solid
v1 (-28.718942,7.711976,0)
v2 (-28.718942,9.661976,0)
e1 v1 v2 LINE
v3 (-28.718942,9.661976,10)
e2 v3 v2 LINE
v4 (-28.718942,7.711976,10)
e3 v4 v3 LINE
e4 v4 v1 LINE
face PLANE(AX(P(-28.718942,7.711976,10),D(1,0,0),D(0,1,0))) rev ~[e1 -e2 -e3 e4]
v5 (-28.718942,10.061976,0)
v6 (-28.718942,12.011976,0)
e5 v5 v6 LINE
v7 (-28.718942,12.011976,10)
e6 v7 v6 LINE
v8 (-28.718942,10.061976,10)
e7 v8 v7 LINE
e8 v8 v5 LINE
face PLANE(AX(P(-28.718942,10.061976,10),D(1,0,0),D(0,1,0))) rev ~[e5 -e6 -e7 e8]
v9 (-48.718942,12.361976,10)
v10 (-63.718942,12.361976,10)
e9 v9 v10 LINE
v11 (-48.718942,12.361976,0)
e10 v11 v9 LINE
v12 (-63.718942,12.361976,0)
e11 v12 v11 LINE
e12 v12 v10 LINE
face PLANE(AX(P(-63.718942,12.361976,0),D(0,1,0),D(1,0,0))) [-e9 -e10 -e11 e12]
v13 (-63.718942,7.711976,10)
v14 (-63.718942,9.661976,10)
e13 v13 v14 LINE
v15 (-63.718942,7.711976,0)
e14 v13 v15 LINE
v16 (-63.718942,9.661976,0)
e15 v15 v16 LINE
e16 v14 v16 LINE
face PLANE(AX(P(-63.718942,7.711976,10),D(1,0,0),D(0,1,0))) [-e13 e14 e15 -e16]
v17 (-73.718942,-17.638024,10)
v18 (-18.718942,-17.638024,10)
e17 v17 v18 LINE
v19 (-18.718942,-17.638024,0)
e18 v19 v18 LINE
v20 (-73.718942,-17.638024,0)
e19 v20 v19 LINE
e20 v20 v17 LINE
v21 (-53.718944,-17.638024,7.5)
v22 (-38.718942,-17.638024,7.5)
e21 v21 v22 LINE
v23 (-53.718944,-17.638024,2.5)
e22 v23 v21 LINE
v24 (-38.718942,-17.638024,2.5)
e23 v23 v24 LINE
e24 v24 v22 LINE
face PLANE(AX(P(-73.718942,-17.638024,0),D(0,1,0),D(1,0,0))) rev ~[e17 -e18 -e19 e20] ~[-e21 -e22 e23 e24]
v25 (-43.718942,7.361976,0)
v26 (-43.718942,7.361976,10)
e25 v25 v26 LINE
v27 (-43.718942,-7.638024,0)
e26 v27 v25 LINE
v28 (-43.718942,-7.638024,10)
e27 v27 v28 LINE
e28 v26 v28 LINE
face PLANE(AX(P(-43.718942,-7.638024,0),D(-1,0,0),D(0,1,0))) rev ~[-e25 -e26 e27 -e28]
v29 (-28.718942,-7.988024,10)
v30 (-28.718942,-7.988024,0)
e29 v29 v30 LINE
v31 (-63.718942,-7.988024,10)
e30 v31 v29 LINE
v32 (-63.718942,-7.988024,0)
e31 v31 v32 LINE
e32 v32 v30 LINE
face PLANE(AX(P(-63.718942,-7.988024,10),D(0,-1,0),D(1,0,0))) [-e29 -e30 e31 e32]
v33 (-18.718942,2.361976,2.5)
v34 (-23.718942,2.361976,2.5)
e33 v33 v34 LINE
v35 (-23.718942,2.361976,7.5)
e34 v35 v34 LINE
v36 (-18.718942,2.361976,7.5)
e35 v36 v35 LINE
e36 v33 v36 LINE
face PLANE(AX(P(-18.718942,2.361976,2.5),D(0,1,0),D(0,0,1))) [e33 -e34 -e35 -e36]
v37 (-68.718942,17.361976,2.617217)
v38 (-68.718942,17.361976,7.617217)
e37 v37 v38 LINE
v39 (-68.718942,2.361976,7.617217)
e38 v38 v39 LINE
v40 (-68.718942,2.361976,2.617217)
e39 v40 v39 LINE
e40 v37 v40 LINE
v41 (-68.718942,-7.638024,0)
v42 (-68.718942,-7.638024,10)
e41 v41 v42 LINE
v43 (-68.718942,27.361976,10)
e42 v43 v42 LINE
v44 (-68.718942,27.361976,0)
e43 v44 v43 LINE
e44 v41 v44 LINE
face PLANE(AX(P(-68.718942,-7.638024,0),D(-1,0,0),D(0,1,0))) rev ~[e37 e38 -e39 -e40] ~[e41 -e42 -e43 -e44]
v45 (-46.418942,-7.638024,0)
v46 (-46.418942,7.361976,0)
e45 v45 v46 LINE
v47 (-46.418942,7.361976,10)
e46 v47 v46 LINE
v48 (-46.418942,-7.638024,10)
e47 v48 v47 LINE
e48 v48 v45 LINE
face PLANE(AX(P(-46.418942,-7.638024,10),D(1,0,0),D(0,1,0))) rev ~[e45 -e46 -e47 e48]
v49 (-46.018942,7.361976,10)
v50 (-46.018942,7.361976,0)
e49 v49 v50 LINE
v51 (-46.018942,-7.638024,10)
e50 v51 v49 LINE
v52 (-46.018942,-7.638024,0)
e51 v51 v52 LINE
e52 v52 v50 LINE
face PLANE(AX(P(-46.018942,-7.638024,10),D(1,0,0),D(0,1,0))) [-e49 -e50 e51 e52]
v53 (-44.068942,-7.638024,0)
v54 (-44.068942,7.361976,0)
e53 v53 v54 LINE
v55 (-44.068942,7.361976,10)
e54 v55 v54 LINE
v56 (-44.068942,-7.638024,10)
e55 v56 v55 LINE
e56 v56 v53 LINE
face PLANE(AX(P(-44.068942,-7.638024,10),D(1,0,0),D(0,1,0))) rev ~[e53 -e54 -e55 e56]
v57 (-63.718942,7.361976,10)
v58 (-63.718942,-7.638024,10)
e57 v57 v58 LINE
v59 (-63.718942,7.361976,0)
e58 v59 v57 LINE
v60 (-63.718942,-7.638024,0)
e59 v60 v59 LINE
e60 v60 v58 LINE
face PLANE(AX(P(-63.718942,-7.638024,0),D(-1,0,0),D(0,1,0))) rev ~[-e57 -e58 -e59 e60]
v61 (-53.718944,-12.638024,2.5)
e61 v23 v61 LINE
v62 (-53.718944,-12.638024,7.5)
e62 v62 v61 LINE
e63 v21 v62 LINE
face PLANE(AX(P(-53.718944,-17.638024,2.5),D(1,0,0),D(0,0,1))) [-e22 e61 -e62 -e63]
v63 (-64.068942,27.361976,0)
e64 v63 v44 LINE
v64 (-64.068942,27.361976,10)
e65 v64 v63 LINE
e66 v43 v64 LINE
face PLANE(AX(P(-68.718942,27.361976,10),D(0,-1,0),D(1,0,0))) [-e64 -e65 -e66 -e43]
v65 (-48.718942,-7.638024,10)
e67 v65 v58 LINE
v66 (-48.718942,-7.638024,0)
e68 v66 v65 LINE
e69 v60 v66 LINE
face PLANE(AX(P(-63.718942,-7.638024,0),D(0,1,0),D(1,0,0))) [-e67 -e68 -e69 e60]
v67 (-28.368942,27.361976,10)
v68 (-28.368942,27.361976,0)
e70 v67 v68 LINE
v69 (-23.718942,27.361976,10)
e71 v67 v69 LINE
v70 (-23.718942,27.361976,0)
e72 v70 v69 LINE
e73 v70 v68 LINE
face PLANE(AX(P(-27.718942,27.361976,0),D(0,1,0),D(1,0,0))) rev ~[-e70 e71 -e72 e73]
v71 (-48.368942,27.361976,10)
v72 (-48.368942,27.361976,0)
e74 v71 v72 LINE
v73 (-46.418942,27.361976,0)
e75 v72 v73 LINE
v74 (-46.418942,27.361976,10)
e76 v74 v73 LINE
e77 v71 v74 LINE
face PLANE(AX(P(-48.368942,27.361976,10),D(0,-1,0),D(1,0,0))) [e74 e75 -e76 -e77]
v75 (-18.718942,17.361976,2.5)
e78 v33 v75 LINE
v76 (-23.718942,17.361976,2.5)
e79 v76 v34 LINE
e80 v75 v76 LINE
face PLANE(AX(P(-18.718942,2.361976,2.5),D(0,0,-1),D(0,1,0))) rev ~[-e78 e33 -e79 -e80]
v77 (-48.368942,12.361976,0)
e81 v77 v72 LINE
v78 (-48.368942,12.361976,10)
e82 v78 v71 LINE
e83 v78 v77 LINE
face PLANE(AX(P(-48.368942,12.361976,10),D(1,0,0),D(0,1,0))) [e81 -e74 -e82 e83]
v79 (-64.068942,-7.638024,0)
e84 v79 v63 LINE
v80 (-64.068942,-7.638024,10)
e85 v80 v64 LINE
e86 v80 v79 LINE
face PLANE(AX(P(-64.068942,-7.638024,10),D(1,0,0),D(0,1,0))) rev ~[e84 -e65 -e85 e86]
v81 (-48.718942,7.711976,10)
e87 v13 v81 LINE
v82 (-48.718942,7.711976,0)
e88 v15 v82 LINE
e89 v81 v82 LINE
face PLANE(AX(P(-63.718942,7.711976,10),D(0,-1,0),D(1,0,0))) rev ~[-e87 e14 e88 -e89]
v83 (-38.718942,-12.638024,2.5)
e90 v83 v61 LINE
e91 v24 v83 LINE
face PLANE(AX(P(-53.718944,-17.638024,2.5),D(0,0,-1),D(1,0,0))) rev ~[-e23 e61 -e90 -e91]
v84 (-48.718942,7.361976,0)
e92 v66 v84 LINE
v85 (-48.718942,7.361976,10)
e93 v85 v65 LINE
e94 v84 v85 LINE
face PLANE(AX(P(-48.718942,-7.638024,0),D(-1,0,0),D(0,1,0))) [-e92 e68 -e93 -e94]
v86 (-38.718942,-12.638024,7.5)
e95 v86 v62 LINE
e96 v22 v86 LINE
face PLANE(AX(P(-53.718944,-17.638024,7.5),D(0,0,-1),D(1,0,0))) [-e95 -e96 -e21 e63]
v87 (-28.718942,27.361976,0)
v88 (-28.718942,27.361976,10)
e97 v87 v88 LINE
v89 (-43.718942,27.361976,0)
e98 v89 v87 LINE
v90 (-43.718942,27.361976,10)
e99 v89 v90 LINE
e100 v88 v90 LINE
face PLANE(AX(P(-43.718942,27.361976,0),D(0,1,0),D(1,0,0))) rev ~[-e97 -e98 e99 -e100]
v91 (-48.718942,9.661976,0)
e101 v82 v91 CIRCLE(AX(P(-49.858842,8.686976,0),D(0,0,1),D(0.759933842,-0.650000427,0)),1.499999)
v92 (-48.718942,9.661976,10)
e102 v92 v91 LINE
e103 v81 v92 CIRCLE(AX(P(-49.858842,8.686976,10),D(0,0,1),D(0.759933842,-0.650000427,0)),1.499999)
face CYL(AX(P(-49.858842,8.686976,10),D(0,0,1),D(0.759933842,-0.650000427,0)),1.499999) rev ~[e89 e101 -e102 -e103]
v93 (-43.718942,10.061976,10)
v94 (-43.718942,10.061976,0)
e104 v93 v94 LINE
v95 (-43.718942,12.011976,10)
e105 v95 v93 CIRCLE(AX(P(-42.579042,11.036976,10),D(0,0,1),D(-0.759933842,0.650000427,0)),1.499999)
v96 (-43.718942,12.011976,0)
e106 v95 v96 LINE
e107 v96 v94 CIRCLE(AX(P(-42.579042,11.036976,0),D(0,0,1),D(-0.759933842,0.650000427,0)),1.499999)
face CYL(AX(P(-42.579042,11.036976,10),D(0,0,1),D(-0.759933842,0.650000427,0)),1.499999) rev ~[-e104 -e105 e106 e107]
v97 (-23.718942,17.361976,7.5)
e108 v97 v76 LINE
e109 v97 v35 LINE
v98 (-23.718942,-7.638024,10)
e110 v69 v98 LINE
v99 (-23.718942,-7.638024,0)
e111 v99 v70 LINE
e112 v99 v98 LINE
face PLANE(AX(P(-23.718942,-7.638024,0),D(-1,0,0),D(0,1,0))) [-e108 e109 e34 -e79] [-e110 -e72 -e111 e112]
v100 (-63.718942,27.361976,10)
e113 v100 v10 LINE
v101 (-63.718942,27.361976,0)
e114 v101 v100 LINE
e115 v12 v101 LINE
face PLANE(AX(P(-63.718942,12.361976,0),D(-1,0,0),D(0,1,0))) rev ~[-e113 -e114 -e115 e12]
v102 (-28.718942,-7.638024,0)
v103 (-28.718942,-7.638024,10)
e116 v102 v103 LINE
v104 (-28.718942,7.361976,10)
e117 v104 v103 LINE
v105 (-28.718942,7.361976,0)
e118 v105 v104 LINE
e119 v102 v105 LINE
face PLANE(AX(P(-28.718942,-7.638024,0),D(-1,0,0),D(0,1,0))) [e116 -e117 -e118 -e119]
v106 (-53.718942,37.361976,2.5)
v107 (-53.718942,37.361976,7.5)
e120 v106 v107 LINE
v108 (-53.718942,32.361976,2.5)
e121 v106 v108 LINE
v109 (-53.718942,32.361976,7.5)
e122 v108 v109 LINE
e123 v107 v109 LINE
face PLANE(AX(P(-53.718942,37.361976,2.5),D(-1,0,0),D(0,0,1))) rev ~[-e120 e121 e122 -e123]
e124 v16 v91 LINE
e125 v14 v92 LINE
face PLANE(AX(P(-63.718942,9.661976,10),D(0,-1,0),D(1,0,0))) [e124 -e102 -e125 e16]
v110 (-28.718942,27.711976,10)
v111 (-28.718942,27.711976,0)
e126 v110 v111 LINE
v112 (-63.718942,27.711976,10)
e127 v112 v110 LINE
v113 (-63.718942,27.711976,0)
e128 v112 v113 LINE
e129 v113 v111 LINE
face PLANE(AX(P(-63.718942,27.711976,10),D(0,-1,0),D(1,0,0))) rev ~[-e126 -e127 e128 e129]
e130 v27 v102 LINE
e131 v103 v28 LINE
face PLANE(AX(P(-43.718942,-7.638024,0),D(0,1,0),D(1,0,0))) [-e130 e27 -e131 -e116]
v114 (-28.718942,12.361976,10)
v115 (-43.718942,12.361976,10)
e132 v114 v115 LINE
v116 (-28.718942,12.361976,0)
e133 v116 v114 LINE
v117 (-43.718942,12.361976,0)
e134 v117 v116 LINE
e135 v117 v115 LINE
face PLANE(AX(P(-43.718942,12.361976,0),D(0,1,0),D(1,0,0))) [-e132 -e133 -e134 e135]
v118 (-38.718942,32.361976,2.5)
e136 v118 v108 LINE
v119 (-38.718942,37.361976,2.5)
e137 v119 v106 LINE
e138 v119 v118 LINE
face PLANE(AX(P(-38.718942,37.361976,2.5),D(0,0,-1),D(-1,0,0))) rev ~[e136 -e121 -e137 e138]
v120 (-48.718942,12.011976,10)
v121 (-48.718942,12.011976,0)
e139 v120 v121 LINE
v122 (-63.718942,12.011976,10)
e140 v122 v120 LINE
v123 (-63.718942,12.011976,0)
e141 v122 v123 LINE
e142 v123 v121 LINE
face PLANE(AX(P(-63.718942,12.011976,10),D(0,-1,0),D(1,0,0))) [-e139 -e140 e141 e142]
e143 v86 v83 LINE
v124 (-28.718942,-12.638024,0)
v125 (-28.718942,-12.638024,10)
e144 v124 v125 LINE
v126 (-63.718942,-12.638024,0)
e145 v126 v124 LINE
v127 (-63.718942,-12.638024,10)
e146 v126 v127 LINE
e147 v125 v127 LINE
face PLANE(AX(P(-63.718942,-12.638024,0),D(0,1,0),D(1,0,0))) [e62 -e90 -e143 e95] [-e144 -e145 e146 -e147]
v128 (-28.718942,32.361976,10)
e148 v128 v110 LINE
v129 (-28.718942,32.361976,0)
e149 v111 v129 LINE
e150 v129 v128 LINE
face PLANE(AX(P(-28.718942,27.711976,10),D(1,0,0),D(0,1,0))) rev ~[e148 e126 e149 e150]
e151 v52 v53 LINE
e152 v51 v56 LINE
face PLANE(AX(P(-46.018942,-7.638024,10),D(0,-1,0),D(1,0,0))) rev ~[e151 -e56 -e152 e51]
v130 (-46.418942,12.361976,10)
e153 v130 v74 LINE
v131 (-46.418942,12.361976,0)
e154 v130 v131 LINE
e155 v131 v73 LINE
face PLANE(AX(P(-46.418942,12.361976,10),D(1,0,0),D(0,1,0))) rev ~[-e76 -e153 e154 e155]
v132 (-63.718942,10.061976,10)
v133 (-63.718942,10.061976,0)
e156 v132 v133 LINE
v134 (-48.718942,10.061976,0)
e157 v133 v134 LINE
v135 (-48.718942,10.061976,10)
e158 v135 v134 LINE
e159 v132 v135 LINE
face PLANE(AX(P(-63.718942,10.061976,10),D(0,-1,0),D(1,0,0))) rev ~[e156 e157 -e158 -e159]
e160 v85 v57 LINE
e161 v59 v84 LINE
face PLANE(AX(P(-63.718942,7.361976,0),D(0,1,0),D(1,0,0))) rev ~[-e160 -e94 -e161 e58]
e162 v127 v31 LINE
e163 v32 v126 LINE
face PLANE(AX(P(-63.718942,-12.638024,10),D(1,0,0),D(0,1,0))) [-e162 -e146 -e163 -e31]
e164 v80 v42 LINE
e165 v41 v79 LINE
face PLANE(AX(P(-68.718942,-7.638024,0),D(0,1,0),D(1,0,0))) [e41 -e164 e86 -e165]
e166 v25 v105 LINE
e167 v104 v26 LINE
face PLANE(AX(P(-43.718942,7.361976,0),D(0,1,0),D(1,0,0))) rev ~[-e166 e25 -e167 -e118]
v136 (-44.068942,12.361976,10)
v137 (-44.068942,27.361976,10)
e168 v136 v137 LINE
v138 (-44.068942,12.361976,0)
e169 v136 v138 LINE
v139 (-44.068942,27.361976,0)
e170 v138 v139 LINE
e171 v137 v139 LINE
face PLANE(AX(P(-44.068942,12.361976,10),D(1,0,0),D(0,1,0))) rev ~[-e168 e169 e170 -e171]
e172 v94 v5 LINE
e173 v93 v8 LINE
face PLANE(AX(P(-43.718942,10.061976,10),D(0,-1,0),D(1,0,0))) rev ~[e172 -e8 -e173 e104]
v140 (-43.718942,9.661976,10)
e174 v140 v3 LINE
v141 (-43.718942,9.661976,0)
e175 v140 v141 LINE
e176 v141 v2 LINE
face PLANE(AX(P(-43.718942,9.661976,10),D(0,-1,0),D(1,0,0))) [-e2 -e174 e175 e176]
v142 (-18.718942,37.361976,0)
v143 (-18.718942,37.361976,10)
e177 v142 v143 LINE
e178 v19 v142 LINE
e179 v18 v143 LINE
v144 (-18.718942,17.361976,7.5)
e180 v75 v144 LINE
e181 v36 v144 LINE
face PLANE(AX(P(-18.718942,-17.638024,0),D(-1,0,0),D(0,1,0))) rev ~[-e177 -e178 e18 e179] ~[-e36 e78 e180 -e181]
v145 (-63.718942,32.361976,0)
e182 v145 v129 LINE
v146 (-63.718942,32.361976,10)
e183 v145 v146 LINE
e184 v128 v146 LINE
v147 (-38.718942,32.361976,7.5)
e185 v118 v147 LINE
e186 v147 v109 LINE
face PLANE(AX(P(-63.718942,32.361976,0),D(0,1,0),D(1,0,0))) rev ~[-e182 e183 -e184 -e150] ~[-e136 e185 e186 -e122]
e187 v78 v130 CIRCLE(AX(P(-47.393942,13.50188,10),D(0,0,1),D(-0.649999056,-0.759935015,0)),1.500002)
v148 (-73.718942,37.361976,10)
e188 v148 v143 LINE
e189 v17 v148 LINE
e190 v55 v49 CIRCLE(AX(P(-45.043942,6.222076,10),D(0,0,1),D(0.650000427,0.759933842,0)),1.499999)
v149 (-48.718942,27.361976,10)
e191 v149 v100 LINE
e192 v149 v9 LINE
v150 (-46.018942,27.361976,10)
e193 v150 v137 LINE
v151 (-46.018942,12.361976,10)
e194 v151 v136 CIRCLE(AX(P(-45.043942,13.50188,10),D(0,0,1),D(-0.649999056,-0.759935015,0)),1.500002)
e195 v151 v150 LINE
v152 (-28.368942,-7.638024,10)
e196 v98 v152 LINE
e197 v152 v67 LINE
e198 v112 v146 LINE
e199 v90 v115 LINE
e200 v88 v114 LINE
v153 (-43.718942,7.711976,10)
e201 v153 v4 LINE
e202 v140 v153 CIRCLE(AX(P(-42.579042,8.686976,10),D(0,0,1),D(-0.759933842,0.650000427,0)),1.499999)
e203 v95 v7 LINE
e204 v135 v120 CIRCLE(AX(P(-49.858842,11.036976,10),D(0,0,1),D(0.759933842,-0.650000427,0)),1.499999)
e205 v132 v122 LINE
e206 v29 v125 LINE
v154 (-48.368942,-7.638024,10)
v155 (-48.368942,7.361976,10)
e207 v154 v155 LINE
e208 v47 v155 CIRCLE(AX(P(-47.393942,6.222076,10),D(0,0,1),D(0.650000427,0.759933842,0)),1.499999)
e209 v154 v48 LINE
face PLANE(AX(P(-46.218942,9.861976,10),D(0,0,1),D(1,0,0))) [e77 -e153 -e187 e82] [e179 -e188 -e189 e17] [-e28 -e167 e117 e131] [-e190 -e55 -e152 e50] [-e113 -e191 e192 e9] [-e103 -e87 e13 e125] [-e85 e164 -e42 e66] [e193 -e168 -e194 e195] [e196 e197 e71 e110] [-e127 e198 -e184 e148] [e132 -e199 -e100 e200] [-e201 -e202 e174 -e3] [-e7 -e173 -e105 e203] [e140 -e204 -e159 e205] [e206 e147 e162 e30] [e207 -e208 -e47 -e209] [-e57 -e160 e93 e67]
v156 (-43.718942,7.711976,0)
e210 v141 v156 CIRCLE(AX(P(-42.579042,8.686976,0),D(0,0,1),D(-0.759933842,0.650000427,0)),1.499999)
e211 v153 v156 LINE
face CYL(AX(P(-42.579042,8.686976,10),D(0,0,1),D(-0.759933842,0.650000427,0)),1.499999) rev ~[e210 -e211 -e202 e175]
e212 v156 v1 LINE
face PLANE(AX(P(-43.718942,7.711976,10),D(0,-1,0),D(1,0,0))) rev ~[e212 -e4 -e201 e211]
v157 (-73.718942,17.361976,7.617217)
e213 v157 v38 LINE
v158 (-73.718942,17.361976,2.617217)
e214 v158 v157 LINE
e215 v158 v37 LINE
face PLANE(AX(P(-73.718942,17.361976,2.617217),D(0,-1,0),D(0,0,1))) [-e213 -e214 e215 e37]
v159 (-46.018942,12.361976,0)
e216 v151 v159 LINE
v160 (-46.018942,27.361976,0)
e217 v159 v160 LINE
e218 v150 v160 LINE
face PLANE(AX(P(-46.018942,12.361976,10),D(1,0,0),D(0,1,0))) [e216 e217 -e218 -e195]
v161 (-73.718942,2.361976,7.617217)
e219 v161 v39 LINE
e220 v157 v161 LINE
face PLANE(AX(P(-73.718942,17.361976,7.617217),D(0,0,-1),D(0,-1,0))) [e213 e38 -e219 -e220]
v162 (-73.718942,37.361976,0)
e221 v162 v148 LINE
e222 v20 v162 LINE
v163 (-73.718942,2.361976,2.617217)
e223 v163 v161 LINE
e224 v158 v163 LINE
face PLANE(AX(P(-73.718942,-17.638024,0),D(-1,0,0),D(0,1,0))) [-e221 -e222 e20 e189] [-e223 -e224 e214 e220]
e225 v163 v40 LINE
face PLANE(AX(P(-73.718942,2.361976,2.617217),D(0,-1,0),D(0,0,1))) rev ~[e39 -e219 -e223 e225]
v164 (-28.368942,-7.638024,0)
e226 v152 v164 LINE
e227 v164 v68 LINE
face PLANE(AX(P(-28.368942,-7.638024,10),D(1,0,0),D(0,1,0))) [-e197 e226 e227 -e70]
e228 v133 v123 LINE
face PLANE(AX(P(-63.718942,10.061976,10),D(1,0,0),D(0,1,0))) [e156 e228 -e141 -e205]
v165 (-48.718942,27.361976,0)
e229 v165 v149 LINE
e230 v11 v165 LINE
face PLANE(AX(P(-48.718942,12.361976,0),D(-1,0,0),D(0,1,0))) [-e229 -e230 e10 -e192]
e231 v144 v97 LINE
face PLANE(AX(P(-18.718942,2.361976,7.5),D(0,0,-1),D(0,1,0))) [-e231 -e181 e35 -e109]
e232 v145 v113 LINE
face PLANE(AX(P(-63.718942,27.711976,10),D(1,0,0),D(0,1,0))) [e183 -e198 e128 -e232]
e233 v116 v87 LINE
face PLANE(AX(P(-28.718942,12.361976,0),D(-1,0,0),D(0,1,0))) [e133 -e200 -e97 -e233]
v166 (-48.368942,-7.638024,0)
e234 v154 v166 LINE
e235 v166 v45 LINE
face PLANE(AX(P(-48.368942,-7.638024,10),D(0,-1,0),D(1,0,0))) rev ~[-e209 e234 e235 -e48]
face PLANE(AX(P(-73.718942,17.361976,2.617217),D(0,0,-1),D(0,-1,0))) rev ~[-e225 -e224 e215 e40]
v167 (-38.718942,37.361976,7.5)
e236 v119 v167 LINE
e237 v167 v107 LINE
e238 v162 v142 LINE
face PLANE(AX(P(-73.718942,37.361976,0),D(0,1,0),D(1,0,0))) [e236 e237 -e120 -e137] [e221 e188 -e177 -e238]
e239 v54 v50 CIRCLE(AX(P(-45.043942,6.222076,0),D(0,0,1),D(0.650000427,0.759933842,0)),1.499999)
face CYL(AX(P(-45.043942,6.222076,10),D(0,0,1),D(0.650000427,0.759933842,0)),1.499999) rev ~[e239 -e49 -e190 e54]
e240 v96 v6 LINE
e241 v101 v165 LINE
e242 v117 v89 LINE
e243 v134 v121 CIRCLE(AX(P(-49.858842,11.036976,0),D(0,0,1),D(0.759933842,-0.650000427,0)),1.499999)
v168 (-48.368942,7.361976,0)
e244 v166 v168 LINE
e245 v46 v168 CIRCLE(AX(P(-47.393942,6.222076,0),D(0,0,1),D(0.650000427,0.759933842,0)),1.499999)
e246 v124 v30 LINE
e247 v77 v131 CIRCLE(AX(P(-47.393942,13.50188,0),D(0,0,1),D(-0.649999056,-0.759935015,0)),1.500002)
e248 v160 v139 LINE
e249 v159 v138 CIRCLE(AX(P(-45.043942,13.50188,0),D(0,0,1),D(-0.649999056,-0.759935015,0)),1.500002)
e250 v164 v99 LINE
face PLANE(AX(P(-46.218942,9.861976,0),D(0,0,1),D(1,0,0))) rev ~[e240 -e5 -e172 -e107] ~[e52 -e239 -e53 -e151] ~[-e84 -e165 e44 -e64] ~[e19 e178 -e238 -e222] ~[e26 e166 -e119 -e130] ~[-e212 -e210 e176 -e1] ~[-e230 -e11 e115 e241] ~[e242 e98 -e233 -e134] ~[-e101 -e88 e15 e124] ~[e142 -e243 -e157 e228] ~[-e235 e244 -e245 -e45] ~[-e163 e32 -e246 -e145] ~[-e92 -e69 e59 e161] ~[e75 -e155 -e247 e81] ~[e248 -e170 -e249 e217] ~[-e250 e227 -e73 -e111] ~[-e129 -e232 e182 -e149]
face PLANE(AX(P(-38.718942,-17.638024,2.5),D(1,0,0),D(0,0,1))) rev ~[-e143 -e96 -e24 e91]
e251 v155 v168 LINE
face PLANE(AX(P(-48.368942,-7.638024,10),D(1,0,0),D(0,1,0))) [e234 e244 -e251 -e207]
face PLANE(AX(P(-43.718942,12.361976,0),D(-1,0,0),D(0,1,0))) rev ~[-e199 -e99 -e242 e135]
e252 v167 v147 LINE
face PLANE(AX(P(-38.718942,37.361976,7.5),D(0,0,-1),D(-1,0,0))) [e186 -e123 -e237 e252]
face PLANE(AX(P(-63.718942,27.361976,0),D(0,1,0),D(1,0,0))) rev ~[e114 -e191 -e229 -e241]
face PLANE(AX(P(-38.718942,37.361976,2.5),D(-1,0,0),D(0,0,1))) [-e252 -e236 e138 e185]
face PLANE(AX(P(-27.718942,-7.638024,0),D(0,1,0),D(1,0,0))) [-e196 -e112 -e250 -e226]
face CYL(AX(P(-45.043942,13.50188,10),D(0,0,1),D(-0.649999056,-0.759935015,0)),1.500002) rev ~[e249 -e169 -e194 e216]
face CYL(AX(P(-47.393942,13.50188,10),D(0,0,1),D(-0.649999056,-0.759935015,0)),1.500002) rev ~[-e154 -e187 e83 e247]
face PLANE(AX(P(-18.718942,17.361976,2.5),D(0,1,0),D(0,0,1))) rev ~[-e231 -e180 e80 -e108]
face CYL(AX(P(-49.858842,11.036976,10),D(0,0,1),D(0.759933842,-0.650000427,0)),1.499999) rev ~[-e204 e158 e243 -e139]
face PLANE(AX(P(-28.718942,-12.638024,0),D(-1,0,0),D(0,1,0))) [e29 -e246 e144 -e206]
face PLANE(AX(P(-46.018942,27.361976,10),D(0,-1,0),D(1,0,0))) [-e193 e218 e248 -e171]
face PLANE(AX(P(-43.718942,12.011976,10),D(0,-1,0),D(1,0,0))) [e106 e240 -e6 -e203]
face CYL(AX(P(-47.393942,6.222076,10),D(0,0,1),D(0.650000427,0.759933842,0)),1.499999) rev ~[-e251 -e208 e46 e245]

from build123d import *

# Parameters (mm, degrees)
F0_W      = 55
F0_H      = 55
F2_DEPTH  = 10
F1_W      = 35
F1_H      = 4
F1_W_2    = 4
F1_H_2    = 35
F1_W_3    = 15
F1_H_3    = 15
F3_DEPTH  = 25
F4_W      = 1.95
F4_H      = 15
F5_DEPTH  = 25
F6_W      = 1.95
F6_H      = 15
F7_DEPTH  = 25
F8_W      = 15
F8_H      = 1.95
F8_W_2    = 1.95
F8_H_2    = 15
F9_DEPTH  = 25
F10_W     = 35
F10_H     = 4.65
F10_W_2   = 4.65
F10_H_2   = 35
F11_DEPTH = 25
F13_DEPTH = 25
F14_W     = 15.000002
F14_H     = 5
F15_DEPTH = 6
F16_W     = 15
F16_H     = 5
F17_DEPTH = 6
F18_W     = 15
F18_H     = 5
F19_DEPTH = 6
F20_W     = 15
F20_H     = 5
F21_DEPTH = 6


with BuildPart() as f2:
    # F0 (on Top) → F2 (new body)
    with BuildSketch(Plane.XY):
        with Locations((-46.218942, 9.861976)):
            Rectangle(F0_W, F0_H)
    extrude(amount=F2_DEPTH)

    # F1 (on face) → F3 (cut)
    with BuildSketch(Plane.XY):
        with Locations((-46.218942, 30.361976)):
            Rectangle(F1_W, F1_H)
        with Locations((-66.718942, 9.861976)):
            Rectangle(F1_W_2, F1_H_2)
        with Locations((-25.718942, 9.861976)):
            Rectangle(F1_W_2, F1_H_2)
        with Locations((-46.218942, -10.638024)):
            Rectangle(F1_W, F1_H)
        with Locations((-56.218942, 19.861976)):
            Rectangle(F1_W_3, F1_H_3)
        with Locations((-36.218942, 19.861976)):
            Rectangle(F1_W_3, F1_H_3)
        with Locations((-56.218942, -0.138024)):
            Rectangle(F1_W_3, F1_H_3)
        with Locations((-36.218942, -0.138024)):
            Rectangle(F1_W_3, F1_H_3)
    extrude(amount=F3_DEPTH, mode=Mode.SUBTRACT)

    # F4 (on face) → F5 (cut)
    with BuildSketch(Plane.XY.offset(10)):
        with Locations((-47.393942, 19.861976)):
            Rectangle(F4_W, F4_H)
    extrude(amount=-F5_DEPTH, mode=Mode.SUBTRACT)

    # F6 (on face) → F7 (cut)
    with BuildSketch(Plane.XY.offset(10)):
        with Locations((-45.043942, 19.861976)):
            Rectangle(F6_W, F6_H)
    extrude(amount=-F7_DEPTH, mode=Mode.SUBTRACT)

    # F8 (on face) → F9 (cut)
    with BuildSketch(Plane.XY.offset(10)):
        with Locations((-56.218942, 11.036976)):
            Rectangle(F8_W, F8_H)
        with Locations((-56.218942, 8.686976)):
            Rectangle(F8_W, F8_H)
        with Locations((-36.218942, 11.036976)):
            Rectangle(F8_W, F8_H)
        with Locations((-36.218942, 8.686976)):
            Rectangle(F8_W, F8_H)
        with Locations((-47.393942, -0.138024)):
            Rectangle(F8_W_2, F8_H_2)
        with Locations((-45.043942, -0.138024)):
            Rectangle(F8_W_2, F8_H_2)
    extrude(amount=-F9_DEPTH, mode=Mode.SUBTRACT)

    # F10 (on face) → F11 (cut)
    with BuildSketch(Plane.XY.offset(10)):
        with Locations((-46.218942, 30.036976)):
            Rectangle(F10_W, F10_H)
        with Locations((-26.043942, 9.861976)):
            Rectangle(F10_W_2, F10_H_2)
        with Locations((-46.218942, -10.313024)):
            Rectangle(F10_W, F10_H)
        with Locations((-66.393942, 9.861976)):
            Rectangle(F10_W_2, F10_H_2)
    extrude(amount=-F11_DEPTH, mode=Mode.SUBTRACT)

    # F12 (on face) → F13 (cut)
    with BuildSketch(Plane.XY.offset(10)):
        with BuildLine():
            Line((-46.418942, 12.361976), (-48.368942, 12.361976))
            ThreePointArc((-48.368942, 12.361976), (-47.393942, 12.001878), (-46.418942, 12.361976))
        make_face()
        with BuildLine():
            Line((-44.068942, 12.361976), (-46.018942, 12.361976))
            ThreePointArc((-46.018942, 12.361976), (-45.043942, 12.001878), (-44.068942, 12.361976))
        make_face()
        with BuildLine():
            Line((-43.718942, 10.061976), (-43.718942, 12.011976))
            ThreePointArc((-43.718942, 12.011976), (-44.079041, 11.036976), (-43.718942, 10.061976))
        make_face()
        with BuildLine():
            Line((-43.718942, 7.711976), (-43.718942, 9.661976))
            ThreePointArc((-43.718942, 9.661976), (-44.079041, 8.686976), (-43.718942, 7.711976))
        make_face()
        with BuildLine():
            Line((-46.018942, 7.361976), (-44.068942, 7.361976))
            ThreePointArc((-44.068942, 7.361976), (-45.043942, 7.722075), (-46.018942, 7.361976))
        make_face()
        with BuildLine():
            Line((-48.368942, 7.361976), (-46.418942, 7.361976))
            ThreePointArc((-46.418942, 7.361976), (-47.393942, 7.722075), (-48.368942, 7.361976))
        make_face()
        with BuildLine():
            Line((-48.718942, 9.661976), (-48.718942, 7.711976))
            ThreePointArc((-48.718942, 7.711976), (-48.358843, 8.686976), (-48.718942, 9.661976))
        make_face()
        with BuildLine():
            Line((-48.718942, 12.011976), (-48.718942, 10.061976))
            ThreePointArc((-48.718942, 10.061976), (-48.358843, 11.036976), (-48.718942, 12.011976))
        make_face()
    extrude(amount=-F13_DEPTH, mode=Mode.SUBTRACT)

    # F14 (on face) → F15 (cut)
    with BuildSketch(Plane.XZ.offset(17.638024)):
        with Locations((-46.218943, 5)):
            Rectangle(F14_W, F14_H)
    extrude(amount=-F15_DEPTH, mode=Mode.SUBTRACT)

    # F16 (on face) → F17 (cut)
    with BuildSketch(Plane.YZ.offset(-18.718942)):
        with Locations((9.861976, 5)):
            Rectangle(F16_W, F16_H)
    extrude(amount=-F17_DEPTH, mode=Mode.SUBTRACT)

    # F18 (on face) → F19 (cut)
    with BuildSketch(Plane(origin=(0, 37.361976, 0), x_dir=(-1, 0, 0), z_dir=(0, 1, 0))):
        with Locations((46.218942, 5)):
            Rectangle(F18_W, F18_H)
    extrude(amount=-F19_DEPTH, mode=Mode.SUBTRACT)

    # F20 (on face) → F21 (cut)
    with BuildSketch(Plane(origin=(-73.718942, 0, 0), x_dir=(0, -1, 0), z_dir=(-1, 0, 0))):
        with Locations((-9.861976, 5.117217)):
            Rectangle(F20_W, F20_H)
    extrude(amount=-F21_DEPTH, mode=Mode.SUBTRACT)


solid = f2.part
